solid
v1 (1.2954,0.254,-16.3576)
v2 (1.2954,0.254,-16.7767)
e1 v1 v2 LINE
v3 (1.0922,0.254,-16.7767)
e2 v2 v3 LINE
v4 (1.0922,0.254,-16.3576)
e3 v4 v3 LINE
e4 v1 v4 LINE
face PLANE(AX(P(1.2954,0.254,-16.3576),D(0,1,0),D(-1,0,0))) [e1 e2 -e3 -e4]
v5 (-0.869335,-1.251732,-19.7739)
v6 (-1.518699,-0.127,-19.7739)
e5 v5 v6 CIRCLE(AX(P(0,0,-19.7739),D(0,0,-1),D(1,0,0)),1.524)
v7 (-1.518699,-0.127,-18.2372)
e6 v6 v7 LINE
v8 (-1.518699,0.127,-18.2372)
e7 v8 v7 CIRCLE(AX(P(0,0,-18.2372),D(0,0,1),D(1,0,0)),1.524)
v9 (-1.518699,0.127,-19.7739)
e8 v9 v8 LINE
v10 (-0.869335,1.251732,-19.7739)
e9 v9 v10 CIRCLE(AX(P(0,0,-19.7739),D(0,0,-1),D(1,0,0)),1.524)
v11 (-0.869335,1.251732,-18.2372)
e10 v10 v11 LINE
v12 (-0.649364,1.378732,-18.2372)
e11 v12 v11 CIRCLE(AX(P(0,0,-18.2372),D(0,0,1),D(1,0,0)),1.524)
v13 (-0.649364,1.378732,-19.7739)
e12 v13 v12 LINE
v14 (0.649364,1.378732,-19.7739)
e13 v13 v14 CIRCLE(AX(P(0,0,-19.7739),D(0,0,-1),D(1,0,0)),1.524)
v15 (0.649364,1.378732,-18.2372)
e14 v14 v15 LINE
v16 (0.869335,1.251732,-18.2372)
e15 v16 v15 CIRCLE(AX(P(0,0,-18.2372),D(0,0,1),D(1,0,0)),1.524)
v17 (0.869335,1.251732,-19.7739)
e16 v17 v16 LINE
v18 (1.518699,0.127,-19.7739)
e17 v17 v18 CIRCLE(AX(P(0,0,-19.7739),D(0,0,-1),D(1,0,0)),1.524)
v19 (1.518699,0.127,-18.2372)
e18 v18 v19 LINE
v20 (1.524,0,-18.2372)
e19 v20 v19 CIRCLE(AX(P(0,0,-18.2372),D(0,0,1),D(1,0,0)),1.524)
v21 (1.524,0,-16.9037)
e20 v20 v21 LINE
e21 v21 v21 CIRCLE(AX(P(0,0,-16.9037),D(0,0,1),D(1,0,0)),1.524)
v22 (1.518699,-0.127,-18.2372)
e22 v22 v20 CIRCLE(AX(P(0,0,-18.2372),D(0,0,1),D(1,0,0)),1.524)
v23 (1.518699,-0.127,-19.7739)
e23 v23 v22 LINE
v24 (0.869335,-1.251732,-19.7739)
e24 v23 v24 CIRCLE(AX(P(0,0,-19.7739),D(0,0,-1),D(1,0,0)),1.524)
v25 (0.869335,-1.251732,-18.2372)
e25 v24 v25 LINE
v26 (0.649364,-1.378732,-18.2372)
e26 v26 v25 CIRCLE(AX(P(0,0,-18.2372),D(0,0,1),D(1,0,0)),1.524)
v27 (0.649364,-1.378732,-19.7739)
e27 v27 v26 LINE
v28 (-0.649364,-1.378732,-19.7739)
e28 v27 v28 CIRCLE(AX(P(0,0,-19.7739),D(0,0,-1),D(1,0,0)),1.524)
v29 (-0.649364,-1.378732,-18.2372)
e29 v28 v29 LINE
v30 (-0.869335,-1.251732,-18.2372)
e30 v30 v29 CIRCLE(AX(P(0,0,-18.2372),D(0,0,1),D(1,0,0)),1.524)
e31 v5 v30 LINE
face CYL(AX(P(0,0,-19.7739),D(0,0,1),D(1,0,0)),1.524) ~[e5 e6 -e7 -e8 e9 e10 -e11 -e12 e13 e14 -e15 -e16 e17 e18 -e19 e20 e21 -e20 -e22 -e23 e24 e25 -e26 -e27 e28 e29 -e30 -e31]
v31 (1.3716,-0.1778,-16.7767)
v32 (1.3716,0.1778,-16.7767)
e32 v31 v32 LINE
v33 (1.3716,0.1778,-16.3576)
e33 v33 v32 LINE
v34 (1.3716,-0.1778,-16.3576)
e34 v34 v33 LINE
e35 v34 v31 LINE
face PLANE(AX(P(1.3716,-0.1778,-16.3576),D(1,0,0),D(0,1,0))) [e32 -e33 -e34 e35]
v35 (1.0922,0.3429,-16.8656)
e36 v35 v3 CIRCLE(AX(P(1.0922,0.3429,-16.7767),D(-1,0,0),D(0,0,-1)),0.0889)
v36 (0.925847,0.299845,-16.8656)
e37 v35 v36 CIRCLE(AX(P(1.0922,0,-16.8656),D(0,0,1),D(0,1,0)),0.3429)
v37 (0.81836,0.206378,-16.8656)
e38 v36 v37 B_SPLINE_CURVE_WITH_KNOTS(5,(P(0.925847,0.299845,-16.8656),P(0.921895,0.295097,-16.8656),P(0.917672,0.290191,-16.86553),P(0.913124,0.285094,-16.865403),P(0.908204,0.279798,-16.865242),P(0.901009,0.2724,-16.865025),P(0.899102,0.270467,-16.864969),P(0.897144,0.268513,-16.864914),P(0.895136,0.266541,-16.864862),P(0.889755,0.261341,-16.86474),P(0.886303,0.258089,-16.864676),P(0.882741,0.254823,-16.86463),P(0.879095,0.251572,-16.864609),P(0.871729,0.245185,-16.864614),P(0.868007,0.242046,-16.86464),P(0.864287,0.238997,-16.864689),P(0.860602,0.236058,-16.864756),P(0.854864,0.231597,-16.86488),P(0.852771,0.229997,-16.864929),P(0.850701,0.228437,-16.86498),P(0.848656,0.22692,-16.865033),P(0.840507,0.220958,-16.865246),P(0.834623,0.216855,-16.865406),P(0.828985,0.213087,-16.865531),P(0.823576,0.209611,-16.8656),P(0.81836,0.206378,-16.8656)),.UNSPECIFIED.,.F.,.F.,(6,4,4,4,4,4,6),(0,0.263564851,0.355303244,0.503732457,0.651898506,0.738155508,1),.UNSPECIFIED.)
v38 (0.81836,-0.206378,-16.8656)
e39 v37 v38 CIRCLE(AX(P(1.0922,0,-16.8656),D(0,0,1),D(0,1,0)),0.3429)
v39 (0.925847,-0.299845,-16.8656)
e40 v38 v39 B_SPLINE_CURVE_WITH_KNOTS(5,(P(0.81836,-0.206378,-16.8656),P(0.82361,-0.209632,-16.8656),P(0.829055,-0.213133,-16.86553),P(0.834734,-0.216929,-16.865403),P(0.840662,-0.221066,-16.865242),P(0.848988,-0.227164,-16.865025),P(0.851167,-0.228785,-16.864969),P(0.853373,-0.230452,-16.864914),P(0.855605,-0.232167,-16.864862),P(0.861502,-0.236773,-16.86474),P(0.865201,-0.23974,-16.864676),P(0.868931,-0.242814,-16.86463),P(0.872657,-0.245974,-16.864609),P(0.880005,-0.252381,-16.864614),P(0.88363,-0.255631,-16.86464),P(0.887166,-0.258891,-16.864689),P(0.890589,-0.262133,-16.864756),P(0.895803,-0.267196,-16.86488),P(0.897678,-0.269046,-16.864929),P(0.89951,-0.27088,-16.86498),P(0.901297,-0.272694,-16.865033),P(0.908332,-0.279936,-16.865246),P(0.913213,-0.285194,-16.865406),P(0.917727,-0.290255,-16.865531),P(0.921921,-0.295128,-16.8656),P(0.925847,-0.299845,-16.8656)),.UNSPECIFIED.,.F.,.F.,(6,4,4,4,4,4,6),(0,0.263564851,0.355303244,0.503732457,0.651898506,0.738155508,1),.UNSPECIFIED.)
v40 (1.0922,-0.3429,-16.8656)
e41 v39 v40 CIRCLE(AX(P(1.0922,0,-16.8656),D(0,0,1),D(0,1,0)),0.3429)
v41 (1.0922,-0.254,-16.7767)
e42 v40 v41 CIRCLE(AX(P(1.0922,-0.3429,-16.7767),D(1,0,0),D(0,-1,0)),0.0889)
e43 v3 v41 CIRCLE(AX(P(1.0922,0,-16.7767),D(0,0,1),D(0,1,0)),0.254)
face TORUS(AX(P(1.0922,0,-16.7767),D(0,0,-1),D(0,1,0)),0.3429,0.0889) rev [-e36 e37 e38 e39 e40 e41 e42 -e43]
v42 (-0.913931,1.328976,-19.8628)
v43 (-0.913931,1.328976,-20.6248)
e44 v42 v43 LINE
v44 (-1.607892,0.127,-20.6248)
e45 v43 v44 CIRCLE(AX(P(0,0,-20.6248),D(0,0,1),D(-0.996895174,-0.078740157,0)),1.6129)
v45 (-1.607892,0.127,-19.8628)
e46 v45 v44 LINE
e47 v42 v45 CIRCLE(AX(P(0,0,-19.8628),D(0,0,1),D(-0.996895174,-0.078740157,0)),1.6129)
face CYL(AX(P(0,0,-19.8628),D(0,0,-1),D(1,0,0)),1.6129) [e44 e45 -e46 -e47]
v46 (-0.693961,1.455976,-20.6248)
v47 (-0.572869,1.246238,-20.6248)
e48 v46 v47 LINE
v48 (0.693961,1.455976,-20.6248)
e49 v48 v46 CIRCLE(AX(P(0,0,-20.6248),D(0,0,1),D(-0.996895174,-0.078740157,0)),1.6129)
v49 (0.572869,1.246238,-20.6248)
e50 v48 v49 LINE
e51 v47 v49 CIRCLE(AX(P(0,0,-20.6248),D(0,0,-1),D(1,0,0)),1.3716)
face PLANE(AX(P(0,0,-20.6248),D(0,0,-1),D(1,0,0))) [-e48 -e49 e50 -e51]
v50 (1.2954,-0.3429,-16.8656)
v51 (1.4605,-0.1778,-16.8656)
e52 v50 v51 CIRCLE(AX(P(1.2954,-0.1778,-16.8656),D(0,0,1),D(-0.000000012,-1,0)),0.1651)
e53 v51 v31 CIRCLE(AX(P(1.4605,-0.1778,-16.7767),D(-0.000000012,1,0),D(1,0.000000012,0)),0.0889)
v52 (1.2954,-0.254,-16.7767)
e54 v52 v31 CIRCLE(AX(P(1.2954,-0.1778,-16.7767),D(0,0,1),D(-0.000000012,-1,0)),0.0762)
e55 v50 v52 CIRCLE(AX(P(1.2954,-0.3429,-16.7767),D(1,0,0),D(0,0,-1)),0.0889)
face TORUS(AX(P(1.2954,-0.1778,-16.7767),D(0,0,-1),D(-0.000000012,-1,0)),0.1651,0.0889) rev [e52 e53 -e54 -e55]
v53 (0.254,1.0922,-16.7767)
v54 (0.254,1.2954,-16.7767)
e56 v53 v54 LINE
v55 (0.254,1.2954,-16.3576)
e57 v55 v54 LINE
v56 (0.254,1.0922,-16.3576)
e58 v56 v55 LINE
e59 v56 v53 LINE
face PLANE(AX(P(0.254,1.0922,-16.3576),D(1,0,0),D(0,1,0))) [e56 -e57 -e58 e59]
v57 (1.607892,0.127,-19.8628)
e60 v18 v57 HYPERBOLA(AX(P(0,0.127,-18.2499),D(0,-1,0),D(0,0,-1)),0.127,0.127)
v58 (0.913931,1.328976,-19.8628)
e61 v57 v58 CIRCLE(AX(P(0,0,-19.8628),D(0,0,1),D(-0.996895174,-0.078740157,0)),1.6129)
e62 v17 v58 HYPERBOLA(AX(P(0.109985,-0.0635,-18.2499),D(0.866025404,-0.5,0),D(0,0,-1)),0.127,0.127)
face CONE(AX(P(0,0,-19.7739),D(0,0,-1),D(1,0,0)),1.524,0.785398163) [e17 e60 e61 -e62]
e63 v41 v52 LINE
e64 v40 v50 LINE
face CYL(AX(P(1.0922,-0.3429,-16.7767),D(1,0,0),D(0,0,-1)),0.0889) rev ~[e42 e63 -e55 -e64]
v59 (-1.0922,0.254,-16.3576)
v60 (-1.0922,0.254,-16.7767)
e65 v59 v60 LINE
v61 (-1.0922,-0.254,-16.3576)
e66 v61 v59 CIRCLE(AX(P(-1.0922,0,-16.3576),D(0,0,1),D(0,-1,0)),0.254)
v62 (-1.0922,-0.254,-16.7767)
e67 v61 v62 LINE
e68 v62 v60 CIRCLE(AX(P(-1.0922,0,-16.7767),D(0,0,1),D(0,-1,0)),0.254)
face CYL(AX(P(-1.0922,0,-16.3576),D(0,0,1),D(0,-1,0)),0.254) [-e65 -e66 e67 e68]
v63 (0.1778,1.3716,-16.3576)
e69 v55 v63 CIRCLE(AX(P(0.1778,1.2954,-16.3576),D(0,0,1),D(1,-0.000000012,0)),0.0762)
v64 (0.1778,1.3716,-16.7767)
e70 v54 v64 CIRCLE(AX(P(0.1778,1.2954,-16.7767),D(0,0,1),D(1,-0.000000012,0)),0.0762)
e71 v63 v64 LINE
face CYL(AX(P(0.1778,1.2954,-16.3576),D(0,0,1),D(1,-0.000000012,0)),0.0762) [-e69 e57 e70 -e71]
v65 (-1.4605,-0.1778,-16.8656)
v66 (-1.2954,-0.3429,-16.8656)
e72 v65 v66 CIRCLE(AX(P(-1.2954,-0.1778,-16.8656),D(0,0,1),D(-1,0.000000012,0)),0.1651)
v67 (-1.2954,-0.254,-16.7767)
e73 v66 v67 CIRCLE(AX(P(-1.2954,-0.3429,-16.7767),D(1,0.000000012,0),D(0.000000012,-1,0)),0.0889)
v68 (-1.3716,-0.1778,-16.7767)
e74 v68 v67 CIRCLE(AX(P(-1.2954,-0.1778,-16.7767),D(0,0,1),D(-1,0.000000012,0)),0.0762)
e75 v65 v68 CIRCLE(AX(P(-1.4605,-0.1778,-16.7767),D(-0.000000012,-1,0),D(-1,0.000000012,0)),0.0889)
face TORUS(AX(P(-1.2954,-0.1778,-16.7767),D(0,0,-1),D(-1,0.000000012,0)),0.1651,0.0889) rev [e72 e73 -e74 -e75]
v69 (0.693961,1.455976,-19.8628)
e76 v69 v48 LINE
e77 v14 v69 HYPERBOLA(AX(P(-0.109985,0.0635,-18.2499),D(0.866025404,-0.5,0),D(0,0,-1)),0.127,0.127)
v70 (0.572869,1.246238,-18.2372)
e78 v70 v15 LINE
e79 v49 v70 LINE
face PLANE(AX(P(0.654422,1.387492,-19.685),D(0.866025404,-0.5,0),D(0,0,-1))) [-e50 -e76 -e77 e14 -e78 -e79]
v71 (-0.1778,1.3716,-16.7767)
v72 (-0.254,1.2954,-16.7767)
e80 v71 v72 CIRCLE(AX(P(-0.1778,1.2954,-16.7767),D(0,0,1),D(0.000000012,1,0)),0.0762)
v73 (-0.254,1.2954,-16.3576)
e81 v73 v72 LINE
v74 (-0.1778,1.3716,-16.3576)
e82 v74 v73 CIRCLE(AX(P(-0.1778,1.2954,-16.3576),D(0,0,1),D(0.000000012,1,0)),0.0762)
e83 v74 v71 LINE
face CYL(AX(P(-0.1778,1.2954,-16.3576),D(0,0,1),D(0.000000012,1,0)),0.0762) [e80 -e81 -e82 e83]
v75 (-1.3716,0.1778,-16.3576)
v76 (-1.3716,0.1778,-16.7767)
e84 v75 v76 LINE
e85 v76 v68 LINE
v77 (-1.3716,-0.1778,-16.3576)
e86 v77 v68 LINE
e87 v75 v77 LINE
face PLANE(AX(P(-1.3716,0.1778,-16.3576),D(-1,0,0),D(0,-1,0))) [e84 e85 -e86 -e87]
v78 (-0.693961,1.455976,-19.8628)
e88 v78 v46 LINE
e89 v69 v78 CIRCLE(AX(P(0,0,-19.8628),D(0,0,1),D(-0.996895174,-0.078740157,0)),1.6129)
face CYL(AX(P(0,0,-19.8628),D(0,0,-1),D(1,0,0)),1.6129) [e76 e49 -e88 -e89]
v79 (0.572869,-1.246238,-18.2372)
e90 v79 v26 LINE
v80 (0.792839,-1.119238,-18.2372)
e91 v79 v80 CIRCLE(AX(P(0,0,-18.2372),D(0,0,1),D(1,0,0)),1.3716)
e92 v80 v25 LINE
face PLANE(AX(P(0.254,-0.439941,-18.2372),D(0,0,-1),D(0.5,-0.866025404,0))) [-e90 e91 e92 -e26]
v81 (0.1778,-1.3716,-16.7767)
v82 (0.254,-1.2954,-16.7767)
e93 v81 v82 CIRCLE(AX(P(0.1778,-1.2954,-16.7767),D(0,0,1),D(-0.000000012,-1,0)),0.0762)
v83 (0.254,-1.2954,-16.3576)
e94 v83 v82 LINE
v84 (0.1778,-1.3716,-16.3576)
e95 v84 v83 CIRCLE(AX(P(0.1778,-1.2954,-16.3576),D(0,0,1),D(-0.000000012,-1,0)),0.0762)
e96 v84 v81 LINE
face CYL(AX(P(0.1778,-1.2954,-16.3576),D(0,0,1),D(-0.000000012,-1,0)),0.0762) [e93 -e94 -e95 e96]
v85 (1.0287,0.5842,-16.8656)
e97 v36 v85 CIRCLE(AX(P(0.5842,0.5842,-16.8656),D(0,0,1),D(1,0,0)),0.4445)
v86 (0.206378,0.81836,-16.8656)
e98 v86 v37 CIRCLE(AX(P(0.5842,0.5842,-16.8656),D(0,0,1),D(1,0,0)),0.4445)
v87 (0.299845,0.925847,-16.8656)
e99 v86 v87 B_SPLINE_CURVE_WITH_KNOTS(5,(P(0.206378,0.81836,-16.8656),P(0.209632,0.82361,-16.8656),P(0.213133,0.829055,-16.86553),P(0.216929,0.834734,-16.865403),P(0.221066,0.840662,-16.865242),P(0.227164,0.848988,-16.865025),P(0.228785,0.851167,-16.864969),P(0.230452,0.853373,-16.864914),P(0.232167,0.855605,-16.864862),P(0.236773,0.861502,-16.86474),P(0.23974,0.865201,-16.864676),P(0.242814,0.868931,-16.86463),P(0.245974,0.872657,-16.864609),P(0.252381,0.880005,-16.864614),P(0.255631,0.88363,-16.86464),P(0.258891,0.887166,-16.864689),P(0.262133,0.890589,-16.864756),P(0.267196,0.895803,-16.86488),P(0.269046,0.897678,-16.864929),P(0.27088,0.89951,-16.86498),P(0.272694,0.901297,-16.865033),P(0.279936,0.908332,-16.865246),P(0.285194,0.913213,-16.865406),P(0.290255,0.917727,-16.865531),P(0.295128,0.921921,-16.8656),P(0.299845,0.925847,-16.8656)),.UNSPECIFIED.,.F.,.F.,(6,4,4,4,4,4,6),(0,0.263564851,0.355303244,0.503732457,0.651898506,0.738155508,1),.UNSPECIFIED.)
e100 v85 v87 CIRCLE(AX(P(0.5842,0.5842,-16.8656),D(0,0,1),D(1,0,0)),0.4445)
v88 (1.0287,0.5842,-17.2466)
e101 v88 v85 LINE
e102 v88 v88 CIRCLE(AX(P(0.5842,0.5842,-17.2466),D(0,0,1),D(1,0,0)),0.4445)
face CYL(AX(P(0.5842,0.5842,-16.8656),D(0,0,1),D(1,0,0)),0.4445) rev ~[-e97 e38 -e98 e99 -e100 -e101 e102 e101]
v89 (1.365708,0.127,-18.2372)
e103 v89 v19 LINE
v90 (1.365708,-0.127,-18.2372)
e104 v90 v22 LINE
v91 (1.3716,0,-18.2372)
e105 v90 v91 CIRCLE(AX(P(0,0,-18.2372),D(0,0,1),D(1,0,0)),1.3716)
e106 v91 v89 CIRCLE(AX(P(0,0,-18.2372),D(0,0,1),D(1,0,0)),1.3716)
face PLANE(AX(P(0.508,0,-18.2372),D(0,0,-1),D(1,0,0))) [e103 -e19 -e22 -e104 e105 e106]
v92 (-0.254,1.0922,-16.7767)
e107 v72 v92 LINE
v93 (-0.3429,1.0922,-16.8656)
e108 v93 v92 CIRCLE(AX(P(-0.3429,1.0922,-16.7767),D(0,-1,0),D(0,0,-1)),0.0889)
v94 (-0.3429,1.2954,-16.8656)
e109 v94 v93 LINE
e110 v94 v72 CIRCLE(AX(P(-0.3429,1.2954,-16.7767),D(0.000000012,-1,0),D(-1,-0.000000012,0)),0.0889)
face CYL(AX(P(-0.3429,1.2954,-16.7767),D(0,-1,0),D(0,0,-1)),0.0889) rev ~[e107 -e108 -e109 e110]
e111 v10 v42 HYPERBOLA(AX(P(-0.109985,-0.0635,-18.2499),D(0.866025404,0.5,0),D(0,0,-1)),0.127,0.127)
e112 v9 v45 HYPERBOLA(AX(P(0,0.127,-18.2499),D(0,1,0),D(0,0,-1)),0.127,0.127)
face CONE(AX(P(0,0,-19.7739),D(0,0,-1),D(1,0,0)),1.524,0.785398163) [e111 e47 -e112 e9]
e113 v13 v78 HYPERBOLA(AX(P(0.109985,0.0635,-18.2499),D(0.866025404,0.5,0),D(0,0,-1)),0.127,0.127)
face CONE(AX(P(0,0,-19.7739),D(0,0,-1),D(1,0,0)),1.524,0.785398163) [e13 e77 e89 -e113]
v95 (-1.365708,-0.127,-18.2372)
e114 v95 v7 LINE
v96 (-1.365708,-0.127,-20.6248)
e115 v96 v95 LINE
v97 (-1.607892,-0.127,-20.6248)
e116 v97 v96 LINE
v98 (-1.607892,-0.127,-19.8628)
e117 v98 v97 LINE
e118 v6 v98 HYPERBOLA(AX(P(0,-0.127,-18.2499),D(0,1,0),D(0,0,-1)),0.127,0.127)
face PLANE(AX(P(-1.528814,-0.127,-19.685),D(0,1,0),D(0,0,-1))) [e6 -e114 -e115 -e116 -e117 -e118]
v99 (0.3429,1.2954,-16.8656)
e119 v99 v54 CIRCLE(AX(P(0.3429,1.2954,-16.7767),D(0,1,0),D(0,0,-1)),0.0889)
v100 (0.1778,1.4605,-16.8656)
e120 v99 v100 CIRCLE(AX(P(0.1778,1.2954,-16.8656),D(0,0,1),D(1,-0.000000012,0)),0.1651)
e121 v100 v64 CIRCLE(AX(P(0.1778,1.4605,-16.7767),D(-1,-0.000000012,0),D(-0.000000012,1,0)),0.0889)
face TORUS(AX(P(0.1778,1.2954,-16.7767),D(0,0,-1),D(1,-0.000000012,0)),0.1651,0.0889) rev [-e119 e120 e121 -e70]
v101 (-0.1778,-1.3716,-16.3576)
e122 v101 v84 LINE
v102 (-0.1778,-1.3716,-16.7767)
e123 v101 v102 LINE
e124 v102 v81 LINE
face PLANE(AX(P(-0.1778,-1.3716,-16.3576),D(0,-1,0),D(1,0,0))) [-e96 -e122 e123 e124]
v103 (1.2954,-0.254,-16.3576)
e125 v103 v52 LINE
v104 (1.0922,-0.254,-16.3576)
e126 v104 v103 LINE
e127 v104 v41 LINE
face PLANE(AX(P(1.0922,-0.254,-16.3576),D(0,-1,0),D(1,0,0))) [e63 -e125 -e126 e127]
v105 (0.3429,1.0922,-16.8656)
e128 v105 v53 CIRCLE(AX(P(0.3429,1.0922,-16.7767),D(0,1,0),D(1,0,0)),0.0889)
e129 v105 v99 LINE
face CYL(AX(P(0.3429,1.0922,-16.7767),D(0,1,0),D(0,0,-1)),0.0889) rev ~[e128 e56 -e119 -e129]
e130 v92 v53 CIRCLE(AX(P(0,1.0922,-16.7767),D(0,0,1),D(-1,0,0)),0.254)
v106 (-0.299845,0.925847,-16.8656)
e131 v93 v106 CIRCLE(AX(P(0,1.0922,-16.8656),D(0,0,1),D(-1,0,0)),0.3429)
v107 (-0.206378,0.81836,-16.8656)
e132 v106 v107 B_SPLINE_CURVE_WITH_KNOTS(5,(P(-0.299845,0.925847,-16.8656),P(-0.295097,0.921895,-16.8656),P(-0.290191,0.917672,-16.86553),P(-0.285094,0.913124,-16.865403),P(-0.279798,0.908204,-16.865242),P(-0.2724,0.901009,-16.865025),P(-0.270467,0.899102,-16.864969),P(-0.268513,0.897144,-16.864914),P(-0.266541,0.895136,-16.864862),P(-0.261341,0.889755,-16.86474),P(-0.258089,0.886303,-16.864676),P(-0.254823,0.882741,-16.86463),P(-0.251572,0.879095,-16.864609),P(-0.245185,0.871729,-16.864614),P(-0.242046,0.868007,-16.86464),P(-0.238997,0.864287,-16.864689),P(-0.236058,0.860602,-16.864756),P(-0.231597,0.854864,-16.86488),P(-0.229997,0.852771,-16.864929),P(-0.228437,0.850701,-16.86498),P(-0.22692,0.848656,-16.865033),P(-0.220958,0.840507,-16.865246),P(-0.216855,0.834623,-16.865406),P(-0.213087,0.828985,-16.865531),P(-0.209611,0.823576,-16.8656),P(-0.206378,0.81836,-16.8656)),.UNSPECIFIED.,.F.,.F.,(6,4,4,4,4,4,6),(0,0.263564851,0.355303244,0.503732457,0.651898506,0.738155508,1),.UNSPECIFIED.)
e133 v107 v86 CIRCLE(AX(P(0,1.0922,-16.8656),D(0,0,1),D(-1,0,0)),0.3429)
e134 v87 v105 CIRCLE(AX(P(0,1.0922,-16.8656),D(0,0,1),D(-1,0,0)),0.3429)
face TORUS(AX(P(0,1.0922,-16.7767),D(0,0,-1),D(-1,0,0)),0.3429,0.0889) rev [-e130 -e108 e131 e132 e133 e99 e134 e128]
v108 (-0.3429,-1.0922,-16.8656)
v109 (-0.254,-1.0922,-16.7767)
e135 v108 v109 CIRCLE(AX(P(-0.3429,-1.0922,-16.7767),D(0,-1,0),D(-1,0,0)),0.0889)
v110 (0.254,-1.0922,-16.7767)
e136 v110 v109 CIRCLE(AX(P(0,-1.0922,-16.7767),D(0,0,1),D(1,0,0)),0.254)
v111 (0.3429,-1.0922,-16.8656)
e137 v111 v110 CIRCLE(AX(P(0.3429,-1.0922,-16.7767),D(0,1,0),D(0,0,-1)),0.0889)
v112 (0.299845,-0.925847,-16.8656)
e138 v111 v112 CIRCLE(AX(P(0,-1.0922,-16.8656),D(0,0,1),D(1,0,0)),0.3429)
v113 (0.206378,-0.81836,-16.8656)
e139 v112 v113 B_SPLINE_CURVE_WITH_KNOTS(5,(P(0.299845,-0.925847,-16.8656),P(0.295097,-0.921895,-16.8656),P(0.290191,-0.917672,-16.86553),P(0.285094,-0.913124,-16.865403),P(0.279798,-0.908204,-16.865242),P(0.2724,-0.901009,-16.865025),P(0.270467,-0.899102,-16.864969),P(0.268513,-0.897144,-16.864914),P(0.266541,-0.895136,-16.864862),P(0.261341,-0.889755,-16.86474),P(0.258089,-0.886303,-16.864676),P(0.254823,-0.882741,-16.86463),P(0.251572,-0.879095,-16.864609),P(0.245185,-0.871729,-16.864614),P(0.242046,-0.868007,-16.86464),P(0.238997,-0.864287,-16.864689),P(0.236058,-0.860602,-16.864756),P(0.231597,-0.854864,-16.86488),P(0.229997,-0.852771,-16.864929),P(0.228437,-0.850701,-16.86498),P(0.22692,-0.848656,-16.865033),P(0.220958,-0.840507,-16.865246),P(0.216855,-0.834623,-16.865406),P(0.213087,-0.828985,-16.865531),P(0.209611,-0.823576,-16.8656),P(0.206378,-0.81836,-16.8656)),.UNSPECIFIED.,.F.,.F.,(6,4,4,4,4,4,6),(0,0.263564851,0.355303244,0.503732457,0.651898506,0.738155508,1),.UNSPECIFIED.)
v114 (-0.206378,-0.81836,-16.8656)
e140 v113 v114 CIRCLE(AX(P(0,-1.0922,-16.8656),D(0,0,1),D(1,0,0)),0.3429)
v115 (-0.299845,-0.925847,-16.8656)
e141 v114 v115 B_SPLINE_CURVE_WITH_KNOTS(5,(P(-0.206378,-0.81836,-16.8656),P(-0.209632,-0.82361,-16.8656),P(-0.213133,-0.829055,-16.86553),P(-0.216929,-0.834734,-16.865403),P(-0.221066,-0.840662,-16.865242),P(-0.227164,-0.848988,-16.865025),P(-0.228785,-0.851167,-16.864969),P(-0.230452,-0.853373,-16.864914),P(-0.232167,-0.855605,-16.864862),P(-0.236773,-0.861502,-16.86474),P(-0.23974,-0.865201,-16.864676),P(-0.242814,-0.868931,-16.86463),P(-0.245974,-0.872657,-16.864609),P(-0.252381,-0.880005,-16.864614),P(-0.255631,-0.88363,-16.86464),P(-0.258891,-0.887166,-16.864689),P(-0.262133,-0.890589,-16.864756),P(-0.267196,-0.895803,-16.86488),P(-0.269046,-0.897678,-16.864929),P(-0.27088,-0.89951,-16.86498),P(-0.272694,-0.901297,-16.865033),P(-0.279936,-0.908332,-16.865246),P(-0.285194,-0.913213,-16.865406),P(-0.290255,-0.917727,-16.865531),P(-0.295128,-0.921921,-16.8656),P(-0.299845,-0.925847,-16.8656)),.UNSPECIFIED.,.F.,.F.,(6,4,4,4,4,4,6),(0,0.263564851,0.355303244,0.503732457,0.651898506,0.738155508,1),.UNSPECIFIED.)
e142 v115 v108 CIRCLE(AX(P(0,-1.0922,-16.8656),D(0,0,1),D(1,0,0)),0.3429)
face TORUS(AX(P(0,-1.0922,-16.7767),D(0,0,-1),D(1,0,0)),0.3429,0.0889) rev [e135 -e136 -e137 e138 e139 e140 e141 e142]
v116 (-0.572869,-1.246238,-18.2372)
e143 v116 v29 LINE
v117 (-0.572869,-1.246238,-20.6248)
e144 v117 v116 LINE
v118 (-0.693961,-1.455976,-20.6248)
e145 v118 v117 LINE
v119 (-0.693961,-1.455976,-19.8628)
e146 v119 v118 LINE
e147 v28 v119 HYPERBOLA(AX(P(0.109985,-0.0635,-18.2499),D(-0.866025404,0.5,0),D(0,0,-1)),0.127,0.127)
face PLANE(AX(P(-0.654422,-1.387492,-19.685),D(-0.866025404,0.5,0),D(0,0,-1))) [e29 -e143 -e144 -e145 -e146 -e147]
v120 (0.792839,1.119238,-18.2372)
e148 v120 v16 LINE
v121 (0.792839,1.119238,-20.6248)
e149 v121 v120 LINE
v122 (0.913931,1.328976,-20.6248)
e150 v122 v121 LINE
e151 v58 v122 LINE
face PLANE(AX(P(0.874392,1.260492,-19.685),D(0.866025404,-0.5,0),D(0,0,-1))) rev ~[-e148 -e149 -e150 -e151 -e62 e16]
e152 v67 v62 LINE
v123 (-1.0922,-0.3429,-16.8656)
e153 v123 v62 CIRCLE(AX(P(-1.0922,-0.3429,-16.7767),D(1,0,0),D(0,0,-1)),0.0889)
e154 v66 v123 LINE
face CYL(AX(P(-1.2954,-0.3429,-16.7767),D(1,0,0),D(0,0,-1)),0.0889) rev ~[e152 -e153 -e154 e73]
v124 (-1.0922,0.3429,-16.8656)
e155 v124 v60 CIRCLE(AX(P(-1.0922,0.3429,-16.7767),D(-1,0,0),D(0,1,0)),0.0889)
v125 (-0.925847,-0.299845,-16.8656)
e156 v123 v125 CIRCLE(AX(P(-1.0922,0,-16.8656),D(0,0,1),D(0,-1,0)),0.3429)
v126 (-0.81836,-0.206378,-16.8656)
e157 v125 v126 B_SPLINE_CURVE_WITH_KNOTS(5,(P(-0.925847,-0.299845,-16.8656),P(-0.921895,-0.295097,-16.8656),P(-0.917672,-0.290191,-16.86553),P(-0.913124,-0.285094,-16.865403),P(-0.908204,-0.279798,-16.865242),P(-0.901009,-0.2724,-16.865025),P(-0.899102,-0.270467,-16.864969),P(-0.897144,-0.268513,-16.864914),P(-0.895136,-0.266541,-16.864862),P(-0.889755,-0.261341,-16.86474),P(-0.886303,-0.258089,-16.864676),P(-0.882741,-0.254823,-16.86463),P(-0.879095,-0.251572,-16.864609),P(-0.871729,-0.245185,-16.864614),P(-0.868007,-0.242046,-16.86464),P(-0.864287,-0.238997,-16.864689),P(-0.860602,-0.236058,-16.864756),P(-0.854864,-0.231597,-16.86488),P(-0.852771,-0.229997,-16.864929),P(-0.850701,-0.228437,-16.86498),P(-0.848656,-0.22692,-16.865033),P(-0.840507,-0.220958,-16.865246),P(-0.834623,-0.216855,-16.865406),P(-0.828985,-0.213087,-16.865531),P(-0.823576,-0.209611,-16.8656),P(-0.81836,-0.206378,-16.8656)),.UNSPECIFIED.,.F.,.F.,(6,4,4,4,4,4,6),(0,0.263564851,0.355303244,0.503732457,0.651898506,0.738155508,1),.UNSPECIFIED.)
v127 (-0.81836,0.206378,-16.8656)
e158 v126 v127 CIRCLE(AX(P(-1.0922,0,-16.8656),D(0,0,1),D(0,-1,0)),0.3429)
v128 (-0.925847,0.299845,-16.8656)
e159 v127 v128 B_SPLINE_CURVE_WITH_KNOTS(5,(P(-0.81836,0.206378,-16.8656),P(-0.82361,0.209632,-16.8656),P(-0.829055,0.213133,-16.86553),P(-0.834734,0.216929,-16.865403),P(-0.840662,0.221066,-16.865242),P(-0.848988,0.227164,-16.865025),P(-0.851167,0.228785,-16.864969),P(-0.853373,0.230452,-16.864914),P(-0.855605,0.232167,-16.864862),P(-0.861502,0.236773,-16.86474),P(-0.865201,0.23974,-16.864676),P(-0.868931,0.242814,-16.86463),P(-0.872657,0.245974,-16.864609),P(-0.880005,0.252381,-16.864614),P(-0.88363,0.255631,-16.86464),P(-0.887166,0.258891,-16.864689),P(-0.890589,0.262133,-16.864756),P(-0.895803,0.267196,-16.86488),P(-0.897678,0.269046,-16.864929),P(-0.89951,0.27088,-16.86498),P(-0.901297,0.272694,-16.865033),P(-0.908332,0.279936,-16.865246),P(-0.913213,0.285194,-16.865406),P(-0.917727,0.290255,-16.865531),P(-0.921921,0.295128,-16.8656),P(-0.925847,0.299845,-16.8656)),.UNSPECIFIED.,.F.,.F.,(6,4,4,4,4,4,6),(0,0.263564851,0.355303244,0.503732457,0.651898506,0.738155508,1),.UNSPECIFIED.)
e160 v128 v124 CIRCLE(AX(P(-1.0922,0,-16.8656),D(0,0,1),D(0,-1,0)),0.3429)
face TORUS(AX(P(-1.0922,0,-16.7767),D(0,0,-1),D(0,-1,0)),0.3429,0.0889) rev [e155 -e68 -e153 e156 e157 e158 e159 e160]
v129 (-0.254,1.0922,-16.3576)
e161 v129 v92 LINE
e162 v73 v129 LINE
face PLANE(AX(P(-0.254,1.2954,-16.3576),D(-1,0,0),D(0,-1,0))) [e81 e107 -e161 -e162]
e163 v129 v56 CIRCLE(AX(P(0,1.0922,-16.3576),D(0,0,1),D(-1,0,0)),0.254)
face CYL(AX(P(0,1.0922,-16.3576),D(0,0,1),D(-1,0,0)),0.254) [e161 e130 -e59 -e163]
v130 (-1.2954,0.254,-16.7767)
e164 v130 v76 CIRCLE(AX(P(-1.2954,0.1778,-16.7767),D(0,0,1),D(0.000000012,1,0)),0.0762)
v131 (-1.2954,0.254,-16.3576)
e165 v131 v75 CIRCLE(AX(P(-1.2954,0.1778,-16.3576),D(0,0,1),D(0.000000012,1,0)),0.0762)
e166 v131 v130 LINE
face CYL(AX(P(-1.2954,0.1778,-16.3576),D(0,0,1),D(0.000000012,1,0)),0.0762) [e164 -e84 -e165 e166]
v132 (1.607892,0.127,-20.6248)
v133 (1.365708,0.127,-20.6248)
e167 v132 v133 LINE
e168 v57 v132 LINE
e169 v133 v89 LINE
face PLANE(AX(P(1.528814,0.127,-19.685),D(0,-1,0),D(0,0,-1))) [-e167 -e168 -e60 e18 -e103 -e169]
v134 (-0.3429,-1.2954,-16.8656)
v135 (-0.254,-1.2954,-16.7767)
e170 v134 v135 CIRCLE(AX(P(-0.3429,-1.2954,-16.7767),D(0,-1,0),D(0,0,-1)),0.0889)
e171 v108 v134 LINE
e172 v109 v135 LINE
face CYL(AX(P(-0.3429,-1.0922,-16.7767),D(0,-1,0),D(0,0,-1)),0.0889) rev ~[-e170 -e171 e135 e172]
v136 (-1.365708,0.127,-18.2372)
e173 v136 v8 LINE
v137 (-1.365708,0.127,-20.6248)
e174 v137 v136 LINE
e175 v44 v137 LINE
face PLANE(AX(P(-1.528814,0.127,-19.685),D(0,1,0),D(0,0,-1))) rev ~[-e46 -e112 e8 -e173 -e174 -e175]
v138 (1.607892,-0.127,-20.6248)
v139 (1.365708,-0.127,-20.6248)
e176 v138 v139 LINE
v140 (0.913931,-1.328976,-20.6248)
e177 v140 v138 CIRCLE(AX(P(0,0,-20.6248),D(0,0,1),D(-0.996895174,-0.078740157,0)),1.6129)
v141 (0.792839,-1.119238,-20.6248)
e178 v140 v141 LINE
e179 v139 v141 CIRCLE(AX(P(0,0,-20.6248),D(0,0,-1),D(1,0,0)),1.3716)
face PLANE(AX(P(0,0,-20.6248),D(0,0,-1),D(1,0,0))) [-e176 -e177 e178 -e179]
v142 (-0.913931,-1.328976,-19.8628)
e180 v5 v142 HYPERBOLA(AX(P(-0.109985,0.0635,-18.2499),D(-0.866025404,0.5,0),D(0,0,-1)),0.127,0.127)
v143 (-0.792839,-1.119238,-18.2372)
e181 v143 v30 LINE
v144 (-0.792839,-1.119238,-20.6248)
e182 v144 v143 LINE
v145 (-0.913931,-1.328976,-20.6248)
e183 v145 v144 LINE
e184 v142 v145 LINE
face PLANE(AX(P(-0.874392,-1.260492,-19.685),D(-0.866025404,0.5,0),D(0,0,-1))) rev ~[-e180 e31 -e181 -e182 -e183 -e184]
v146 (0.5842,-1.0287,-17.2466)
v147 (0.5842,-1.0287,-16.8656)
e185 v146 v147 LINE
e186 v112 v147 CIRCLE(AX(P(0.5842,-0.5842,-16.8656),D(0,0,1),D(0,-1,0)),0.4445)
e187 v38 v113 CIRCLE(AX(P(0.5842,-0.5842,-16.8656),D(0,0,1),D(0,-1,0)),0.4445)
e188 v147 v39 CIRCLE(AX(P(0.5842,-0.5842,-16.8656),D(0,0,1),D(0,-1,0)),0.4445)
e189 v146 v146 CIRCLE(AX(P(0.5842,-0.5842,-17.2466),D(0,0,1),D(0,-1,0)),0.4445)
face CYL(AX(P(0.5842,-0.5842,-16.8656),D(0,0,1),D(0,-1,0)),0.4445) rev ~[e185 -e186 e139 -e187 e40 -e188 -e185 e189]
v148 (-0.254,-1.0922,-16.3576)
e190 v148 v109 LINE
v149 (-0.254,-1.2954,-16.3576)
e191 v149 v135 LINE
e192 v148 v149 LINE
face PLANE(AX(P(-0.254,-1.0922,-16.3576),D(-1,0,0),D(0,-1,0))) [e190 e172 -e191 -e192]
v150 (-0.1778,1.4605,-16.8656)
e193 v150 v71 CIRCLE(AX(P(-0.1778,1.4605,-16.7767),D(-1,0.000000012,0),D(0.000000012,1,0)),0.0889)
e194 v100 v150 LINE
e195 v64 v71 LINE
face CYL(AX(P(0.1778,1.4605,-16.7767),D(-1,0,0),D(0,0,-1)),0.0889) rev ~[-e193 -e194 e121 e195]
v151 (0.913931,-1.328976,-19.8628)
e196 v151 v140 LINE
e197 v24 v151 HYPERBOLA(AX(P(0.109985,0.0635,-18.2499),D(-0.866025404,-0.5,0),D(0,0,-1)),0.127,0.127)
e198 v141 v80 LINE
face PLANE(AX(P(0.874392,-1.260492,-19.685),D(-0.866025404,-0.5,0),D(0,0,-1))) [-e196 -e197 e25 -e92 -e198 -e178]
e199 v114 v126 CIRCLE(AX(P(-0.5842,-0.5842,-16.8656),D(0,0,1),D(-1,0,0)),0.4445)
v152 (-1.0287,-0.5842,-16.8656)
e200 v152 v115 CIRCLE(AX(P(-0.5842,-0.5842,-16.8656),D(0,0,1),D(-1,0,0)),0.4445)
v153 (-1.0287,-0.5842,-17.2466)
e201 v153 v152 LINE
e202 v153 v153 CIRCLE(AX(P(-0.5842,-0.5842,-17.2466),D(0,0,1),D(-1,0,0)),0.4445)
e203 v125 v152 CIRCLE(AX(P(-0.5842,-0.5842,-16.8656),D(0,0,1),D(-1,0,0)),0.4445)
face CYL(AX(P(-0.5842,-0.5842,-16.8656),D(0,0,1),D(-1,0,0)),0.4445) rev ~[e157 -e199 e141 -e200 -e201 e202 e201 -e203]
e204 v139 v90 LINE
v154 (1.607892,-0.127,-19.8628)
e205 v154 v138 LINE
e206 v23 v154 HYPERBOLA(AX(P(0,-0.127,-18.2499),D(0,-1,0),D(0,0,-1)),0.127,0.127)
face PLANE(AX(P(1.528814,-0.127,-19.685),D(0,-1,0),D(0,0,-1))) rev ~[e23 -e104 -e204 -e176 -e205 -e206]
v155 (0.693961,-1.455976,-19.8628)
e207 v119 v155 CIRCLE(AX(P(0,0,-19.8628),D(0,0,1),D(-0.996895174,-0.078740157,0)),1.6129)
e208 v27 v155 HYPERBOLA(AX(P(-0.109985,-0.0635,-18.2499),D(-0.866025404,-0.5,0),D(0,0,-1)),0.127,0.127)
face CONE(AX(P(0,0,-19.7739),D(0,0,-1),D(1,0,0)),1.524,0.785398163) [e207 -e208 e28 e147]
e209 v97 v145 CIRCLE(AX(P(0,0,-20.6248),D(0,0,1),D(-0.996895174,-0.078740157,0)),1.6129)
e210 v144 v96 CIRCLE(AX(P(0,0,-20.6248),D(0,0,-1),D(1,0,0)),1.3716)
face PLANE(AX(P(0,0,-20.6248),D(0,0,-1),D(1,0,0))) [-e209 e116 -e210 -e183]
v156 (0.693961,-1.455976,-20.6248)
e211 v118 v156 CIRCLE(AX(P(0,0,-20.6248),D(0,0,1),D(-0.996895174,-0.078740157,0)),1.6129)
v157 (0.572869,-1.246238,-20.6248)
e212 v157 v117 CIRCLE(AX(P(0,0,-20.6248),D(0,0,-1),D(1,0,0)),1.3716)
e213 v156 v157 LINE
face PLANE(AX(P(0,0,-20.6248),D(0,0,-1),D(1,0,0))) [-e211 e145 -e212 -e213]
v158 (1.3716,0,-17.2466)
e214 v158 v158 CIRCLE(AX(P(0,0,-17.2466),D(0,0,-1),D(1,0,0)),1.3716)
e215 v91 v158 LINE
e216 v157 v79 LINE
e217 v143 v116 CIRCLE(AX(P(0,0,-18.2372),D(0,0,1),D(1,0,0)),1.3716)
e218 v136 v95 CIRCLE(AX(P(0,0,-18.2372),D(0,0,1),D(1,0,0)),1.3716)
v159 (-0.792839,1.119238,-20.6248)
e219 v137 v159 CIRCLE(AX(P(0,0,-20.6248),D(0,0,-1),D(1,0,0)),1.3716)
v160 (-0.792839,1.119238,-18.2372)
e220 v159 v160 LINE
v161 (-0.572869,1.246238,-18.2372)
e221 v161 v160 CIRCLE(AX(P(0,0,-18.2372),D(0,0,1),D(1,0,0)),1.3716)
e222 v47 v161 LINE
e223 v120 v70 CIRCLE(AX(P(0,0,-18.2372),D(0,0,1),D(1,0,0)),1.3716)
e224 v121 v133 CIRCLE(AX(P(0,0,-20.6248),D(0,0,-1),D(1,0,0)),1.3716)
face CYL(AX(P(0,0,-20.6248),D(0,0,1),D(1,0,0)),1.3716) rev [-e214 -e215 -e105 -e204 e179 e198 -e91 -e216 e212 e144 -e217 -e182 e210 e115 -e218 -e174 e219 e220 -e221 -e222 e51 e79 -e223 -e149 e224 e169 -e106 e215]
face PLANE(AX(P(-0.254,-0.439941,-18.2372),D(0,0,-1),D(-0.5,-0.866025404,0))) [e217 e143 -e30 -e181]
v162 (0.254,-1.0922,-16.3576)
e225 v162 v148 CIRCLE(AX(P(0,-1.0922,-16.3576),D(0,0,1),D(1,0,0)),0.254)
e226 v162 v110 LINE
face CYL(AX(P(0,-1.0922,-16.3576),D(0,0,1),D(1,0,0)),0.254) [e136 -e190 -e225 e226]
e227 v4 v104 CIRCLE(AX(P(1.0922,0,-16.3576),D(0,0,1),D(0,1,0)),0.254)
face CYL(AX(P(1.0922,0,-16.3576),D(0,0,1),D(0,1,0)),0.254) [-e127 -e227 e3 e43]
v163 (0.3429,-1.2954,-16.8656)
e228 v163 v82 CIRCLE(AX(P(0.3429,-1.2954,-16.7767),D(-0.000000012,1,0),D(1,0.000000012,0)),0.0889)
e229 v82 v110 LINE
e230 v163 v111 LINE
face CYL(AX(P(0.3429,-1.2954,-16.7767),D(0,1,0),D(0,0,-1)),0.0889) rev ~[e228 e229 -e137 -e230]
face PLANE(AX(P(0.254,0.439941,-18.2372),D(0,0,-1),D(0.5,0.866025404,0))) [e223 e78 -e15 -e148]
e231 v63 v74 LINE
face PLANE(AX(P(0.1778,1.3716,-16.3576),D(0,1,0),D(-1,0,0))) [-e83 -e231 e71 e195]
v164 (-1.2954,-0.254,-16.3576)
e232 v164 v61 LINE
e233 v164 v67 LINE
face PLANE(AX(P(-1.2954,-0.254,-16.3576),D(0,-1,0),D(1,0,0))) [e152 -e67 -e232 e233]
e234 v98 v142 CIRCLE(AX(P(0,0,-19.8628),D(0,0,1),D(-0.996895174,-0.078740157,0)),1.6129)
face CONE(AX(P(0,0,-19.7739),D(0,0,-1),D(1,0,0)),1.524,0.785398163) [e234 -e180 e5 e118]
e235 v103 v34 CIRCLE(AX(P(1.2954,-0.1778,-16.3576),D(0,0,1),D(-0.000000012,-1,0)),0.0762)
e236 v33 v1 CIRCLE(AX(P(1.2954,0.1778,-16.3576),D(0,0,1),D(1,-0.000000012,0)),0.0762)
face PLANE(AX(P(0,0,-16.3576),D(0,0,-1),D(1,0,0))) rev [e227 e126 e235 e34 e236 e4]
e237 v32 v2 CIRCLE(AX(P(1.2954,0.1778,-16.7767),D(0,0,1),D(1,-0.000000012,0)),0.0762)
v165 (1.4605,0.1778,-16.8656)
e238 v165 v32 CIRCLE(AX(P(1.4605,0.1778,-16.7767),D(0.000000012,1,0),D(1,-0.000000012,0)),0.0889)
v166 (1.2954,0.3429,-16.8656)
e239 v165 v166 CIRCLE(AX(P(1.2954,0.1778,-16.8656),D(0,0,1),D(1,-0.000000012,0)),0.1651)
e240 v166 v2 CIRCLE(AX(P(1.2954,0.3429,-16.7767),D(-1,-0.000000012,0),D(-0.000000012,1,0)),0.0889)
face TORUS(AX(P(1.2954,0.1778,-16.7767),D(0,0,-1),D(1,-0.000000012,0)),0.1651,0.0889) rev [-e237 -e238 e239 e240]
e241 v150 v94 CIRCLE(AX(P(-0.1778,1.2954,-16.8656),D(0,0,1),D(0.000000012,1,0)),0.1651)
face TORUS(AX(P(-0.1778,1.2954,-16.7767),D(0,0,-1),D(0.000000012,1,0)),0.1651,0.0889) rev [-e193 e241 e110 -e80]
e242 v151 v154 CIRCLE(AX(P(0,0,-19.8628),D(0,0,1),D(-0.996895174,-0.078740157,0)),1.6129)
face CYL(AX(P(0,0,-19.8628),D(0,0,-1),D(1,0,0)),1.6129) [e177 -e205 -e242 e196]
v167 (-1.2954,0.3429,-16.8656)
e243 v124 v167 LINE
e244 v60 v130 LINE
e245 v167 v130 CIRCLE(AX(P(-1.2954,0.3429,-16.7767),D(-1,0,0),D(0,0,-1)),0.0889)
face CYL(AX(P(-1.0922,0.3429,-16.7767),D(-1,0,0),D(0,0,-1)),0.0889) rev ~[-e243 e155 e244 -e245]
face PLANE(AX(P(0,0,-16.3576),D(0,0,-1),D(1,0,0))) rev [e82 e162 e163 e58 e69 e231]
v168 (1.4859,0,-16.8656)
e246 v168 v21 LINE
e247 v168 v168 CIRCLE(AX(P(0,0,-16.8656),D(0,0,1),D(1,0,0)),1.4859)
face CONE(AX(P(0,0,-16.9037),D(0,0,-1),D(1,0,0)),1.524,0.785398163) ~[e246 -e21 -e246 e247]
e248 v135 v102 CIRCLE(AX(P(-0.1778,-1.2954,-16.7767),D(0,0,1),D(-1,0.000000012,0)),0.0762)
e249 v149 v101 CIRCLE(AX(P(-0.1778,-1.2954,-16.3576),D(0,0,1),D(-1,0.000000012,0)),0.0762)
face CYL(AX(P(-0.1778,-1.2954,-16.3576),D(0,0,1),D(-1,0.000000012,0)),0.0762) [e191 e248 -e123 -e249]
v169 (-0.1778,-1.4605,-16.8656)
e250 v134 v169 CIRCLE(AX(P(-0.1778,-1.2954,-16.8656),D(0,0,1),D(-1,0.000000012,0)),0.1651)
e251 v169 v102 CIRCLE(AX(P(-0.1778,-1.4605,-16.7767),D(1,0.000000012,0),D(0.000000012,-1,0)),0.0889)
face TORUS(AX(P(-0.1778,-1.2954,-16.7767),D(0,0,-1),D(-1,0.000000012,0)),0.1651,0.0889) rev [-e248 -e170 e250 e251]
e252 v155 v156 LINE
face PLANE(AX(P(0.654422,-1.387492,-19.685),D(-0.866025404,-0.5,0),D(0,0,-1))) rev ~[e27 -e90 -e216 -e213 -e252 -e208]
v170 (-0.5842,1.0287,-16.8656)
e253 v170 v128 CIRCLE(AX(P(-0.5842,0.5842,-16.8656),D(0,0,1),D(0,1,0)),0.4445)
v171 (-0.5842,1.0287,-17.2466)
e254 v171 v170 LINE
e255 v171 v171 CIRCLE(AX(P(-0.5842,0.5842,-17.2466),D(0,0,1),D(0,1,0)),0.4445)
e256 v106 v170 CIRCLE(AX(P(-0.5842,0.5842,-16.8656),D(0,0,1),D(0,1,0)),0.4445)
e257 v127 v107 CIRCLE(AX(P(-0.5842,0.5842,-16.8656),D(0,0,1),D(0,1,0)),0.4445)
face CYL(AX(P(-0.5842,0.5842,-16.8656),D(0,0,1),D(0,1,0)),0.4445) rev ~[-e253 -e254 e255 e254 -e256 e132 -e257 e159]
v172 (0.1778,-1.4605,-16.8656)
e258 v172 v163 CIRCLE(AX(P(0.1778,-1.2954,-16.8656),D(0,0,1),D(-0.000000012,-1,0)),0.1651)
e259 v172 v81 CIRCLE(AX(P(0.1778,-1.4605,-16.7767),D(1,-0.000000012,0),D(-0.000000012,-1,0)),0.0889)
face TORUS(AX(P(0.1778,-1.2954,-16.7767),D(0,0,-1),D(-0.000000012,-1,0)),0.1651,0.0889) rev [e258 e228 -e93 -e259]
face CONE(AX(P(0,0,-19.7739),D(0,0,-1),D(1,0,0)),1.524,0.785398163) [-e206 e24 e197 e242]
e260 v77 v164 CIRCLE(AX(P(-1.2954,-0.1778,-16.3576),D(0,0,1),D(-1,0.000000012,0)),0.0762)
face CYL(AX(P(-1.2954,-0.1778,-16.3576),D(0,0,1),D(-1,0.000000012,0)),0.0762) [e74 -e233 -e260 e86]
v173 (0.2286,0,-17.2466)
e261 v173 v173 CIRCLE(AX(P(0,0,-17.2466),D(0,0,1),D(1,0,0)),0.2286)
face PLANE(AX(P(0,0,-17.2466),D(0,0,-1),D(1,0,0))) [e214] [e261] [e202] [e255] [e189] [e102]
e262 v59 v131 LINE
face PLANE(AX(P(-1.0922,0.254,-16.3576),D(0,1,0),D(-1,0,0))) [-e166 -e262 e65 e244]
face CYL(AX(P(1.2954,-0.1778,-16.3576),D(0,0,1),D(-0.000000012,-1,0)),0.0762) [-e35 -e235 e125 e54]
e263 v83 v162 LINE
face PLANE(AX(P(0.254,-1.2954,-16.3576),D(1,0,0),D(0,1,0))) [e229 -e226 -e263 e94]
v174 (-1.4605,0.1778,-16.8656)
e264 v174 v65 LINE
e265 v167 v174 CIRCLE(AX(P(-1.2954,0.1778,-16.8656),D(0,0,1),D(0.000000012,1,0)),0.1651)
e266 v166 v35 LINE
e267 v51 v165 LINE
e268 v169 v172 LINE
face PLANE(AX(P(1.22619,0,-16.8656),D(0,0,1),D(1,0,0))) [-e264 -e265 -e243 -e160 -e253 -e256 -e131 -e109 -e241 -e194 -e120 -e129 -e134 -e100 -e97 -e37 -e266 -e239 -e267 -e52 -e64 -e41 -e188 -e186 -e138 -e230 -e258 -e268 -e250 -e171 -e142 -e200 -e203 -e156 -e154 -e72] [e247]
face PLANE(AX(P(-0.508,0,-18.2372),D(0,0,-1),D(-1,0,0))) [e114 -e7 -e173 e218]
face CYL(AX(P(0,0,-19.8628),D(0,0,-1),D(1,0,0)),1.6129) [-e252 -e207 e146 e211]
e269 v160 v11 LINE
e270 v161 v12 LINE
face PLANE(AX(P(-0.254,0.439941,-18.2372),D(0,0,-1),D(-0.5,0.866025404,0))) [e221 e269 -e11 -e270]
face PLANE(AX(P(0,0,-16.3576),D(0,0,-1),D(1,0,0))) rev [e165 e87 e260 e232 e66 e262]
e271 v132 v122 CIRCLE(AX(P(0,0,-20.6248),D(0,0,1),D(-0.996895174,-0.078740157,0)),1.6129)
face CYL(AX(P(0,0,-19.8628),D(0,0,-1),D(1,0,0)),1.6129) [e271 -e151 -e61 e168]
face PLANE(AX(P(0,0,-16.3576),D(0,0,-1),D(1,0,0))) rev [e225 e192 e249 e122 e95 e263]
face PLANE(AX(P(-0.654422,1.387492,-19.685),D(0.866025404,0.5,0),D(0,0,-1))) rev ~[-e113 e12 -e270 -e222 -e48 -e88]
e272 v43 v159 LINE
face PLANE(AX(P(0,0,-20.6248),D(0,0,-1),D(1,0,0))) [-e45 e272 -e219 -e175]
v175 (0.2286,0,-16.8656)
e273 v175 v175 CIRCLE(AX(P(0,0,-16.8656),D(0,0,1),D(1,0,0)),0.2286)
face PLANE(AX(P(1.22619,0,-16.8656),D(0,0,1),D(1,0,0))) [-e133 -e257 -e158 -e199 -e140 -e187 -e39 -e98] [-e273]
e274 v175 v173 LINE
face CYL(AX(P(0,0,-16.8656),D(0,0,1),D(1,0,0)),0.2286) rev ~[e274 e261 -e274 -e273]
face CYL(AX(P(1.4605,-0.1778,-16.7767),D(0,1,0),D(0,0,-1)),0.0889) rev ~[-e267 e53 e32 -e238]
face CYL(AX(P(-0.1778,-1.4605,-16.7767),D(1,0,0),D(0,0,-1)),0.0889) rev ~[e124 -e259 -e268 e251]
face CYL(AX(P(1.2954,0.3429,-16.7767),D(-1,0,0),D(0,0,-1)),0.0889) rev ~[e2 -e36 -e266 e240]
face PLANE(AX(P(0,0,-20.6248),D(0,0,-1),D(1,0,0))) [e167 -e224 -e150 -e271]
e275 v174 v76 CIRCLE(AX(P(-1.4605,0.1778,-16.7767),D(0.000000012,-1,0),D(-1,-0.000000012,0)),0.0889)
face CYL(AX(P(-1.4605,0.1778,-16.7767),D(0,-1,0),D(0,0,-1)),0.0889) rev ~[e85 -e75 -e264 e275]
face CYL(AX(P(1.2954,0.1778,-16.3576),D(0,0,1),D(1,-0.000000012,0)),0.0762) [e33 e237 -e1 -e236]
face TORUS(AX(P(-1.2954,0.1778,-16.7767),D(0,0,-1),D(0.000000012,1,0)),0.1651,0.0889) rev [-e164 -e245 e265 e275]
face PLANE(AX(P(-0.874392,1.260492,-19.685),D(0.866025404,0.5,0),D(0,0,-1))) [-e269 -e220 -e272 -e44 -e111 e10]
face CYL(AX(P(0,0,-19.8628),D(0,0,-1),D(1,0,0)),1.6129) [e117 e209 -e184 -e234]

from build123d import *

# Parameters (mm, degrees)
CUT_EXTRUDE8_DEPTH       = 0.508
FILLET1_R                = 0.0889
CIRPATTERN4_COUNT        = 4
FILLET1_OF_CIRPATTERN4_R = 0.0889
SKETCH20_R               = 0.4445
CUT_EXTRUDE13_DEPTH      = 1.27
CIRPATTERN7_COUNT        = 4
SKETCH15_W               = 2.8956
SKETCH15_H               = 2.041628117
CUT_EXTRUDE11_DEPTH      = 0.127
CIRPATTERN8_COUNT        = 6
SKETCH17_R               = 0.2286
CUT_EXTRUDE12_DEPTH      = 2.54
CHAMFER1_SIZE            = 0.0381


with BuildPart() as part:
    # Sketch5 → Revolve1 (revolve)
    with BuildSketch(Plane(origin=(0, 0, 0), x_dir=(0, 0, -1), z_dir=(1, 0, 0)), mode=Mode.PRIVATE) as revolve1_sk:
        Polygon((20.6248, 1.3716), (17.2466, 1.3716), (17.2466, 0), (16.8656, 0), (16.3576, 0), (16.3576, 1.524), (16.8656, 1.524), (19.7739, 1.524), (19.8628, 1.6129), (20.6248, 1.6129), align=None)
    revolve(revolve1_sk.sketch.rotate(Axis((0, 0, -21.245346815), (0, 0, -1)), 90), axis=Axis((0, 0, -21.245346815), (0, 0, -1)))

    # Sketch11 → Cut-Extrude8 (cut)
    with BuildSketch(Plane.XY.offset(-16.3576)):
        Polygon((-0.143684098, 0), (1.79361035, -1.937294448), (1.79361035, 1.937294448), align=None)
        with BuildLine():
            Line((1.2954, 0.254), (1.0922, 0.254))
            ThreePointArc((1.0922, 0.254), (0.8382, 0), (1.0922, -0.254))
            Line((1.0922, -0.254), (1.2954, -0.254))
            ThreePointArc((1.2954, -0.254), (1.349281537, -0.231681537), (1.3716, -0.1778))
            Line((1.3716, -0.1778), (1.3716, 0.1778))
            ThreePointArc((1.3716, 0.1778), (1.349281537, 0.231681537), (1.2954, 0.254))
        make_face(mode=Mode.SUBTRACT)
    cut_extrude8 = extrude(amount=-CUT_EXTRUDE8_DEPTH, mode=Mode.SUBTRACT)

    # Fillet1
    fillet1_edges = [part.edges().sort_by_distance(p)[0] for p in [
        (1.349281537, 0.231681537, -16.8656),
        (1.1938, 0.254, -16.8656),
        (0.8382, 0, -16.8656),
        (1.1938, -0.254, -16.8656),
        (1.349281537, -0.231681537, -16.8656),
        (1.3716, 0, -16.8656),
    ]]
    fillet(fillet1_edges, radius=FILLET1_R)

    # CirPattern4: Cut-Extrude8 ×4 about axis
    cirpattern4_axis = Axis((0, 0, 0), (0, 0, 1))
    for i in range(1, CIRPATTERN4_COUNT):
        add(cut_extrude8.rotate(cirpattern4_axis, i * 360 / CIRPATTERN4_COUNT), mode=Mode.SUBTRACT)

    # Fillet1 of CirPattern4
    fillet1_of_cirpattern4_edges = [part.edges().sort_by_distance(p)[0] for p in [
        (-0.231681537, 1.349281537, -16.8656),
        (-0.254, 1.1938, -16.8656),
        (0, 0.8382, -16.8656),
        (0.254, 1.1938, -16.8656),
        (0.231681537, 1.349281537, -16.8656),
        (0, 1.3716, -16.8656),
        (-1.349281537, -0.231681537, -16.8656),
        (-1.1938, -0.254, -16.8656),
        (-0.8382, 0, -16.8656),
        (-1.1938, 0.254, -16.8656),
        (-1.349281537, 0.231681537, -16.8656),
        (-1.3716, 0, -16.8656),
        (0.231681537, -1.349281537, -16.8656),
        (0.254, -1.1938, -16.8656),
        (0, -0.8382, -16.8656),
        (-0.254, -1.1938, -16.8656),
        (-0.231681537, -1.349281537, -16.8656),
        (0, -1.3716, -16.8656),
    ]]
    fillet(fillet1_of_cirpattern4_edges, radius=FILLET1_OF_CIRPATTERN4_R)

    # Sketch20 → Cut-Extrude13 (cut, symmetric)
    with BuildSketch(Plane.XY.offset(-16.8656)):
        with Locations((0.5842, 0.5842)):
            Circle(SKETCH20_R)
    cut_extrude13 = extrude(amount=CUT_EXTRUDE13_DEPTH, both=True, mode=Mode.SUBTRACT)

    # CirPattern7: Cut-Extrude13 ×4 about axis
    cirpattern7_axis = Axis((0, 0, 0), (0, 0, 1))
    for i in range(1, CIRPATTERN7_COUNT):
        add(cut_extrude13.rotate(cirpattern7_axis, i * 360 / CIRPATTERN7_COUNT), mode=Mode.SUBTRACT)

    # Sketch15 → Cut-Extrude11 (cut, symmetric)
    with BuildSketch(Plane(origin=(0, 0, 0), x_dir=(0, 0, -1), z_dir=(0, 1, 0))):
        with Locations((19.685, 1.528814059)):
            Rectangle(SKETCH15_W, SKETCH15_H)
    cut_extrude11 = extrude(amount=CUT_EXTRUDE11_DEPTH, both=True, mode=Mode.SUBTRACT)

    # CirPattern8: Cut-Extrude11 ×6 about axis
    cirpattern8_axis = Axis((0, 0, 0), (0, 0, 1))
    for i in range(1, CIRPATTERN8_COUNT):
        add(cut_extrude11.rotate(cirpattern8_axis, i * 360 / CIRPATTERN8_COUNT), mode=Mode.SUBTRACT)

    # Sketch17 → Cut-Extrude12 (cut)
    with BuildSketch(Plane.XY.offset(-16.8656)):
        Circle(SKETCH17_R)
    extrude(amount=-CUT_EXTRUDE12_DEPTH, mode=Mode.SUBTRACT)

    # Chamfer1
    chamfer1_edges = [part.edges().sort_by_distance(p)[0] for p in [
        (-1.524, 0, -16.8656),
    ]]
    chamfer(chamfer1_edges, length=CHAMFER1_SIZE)


solid = part.part
